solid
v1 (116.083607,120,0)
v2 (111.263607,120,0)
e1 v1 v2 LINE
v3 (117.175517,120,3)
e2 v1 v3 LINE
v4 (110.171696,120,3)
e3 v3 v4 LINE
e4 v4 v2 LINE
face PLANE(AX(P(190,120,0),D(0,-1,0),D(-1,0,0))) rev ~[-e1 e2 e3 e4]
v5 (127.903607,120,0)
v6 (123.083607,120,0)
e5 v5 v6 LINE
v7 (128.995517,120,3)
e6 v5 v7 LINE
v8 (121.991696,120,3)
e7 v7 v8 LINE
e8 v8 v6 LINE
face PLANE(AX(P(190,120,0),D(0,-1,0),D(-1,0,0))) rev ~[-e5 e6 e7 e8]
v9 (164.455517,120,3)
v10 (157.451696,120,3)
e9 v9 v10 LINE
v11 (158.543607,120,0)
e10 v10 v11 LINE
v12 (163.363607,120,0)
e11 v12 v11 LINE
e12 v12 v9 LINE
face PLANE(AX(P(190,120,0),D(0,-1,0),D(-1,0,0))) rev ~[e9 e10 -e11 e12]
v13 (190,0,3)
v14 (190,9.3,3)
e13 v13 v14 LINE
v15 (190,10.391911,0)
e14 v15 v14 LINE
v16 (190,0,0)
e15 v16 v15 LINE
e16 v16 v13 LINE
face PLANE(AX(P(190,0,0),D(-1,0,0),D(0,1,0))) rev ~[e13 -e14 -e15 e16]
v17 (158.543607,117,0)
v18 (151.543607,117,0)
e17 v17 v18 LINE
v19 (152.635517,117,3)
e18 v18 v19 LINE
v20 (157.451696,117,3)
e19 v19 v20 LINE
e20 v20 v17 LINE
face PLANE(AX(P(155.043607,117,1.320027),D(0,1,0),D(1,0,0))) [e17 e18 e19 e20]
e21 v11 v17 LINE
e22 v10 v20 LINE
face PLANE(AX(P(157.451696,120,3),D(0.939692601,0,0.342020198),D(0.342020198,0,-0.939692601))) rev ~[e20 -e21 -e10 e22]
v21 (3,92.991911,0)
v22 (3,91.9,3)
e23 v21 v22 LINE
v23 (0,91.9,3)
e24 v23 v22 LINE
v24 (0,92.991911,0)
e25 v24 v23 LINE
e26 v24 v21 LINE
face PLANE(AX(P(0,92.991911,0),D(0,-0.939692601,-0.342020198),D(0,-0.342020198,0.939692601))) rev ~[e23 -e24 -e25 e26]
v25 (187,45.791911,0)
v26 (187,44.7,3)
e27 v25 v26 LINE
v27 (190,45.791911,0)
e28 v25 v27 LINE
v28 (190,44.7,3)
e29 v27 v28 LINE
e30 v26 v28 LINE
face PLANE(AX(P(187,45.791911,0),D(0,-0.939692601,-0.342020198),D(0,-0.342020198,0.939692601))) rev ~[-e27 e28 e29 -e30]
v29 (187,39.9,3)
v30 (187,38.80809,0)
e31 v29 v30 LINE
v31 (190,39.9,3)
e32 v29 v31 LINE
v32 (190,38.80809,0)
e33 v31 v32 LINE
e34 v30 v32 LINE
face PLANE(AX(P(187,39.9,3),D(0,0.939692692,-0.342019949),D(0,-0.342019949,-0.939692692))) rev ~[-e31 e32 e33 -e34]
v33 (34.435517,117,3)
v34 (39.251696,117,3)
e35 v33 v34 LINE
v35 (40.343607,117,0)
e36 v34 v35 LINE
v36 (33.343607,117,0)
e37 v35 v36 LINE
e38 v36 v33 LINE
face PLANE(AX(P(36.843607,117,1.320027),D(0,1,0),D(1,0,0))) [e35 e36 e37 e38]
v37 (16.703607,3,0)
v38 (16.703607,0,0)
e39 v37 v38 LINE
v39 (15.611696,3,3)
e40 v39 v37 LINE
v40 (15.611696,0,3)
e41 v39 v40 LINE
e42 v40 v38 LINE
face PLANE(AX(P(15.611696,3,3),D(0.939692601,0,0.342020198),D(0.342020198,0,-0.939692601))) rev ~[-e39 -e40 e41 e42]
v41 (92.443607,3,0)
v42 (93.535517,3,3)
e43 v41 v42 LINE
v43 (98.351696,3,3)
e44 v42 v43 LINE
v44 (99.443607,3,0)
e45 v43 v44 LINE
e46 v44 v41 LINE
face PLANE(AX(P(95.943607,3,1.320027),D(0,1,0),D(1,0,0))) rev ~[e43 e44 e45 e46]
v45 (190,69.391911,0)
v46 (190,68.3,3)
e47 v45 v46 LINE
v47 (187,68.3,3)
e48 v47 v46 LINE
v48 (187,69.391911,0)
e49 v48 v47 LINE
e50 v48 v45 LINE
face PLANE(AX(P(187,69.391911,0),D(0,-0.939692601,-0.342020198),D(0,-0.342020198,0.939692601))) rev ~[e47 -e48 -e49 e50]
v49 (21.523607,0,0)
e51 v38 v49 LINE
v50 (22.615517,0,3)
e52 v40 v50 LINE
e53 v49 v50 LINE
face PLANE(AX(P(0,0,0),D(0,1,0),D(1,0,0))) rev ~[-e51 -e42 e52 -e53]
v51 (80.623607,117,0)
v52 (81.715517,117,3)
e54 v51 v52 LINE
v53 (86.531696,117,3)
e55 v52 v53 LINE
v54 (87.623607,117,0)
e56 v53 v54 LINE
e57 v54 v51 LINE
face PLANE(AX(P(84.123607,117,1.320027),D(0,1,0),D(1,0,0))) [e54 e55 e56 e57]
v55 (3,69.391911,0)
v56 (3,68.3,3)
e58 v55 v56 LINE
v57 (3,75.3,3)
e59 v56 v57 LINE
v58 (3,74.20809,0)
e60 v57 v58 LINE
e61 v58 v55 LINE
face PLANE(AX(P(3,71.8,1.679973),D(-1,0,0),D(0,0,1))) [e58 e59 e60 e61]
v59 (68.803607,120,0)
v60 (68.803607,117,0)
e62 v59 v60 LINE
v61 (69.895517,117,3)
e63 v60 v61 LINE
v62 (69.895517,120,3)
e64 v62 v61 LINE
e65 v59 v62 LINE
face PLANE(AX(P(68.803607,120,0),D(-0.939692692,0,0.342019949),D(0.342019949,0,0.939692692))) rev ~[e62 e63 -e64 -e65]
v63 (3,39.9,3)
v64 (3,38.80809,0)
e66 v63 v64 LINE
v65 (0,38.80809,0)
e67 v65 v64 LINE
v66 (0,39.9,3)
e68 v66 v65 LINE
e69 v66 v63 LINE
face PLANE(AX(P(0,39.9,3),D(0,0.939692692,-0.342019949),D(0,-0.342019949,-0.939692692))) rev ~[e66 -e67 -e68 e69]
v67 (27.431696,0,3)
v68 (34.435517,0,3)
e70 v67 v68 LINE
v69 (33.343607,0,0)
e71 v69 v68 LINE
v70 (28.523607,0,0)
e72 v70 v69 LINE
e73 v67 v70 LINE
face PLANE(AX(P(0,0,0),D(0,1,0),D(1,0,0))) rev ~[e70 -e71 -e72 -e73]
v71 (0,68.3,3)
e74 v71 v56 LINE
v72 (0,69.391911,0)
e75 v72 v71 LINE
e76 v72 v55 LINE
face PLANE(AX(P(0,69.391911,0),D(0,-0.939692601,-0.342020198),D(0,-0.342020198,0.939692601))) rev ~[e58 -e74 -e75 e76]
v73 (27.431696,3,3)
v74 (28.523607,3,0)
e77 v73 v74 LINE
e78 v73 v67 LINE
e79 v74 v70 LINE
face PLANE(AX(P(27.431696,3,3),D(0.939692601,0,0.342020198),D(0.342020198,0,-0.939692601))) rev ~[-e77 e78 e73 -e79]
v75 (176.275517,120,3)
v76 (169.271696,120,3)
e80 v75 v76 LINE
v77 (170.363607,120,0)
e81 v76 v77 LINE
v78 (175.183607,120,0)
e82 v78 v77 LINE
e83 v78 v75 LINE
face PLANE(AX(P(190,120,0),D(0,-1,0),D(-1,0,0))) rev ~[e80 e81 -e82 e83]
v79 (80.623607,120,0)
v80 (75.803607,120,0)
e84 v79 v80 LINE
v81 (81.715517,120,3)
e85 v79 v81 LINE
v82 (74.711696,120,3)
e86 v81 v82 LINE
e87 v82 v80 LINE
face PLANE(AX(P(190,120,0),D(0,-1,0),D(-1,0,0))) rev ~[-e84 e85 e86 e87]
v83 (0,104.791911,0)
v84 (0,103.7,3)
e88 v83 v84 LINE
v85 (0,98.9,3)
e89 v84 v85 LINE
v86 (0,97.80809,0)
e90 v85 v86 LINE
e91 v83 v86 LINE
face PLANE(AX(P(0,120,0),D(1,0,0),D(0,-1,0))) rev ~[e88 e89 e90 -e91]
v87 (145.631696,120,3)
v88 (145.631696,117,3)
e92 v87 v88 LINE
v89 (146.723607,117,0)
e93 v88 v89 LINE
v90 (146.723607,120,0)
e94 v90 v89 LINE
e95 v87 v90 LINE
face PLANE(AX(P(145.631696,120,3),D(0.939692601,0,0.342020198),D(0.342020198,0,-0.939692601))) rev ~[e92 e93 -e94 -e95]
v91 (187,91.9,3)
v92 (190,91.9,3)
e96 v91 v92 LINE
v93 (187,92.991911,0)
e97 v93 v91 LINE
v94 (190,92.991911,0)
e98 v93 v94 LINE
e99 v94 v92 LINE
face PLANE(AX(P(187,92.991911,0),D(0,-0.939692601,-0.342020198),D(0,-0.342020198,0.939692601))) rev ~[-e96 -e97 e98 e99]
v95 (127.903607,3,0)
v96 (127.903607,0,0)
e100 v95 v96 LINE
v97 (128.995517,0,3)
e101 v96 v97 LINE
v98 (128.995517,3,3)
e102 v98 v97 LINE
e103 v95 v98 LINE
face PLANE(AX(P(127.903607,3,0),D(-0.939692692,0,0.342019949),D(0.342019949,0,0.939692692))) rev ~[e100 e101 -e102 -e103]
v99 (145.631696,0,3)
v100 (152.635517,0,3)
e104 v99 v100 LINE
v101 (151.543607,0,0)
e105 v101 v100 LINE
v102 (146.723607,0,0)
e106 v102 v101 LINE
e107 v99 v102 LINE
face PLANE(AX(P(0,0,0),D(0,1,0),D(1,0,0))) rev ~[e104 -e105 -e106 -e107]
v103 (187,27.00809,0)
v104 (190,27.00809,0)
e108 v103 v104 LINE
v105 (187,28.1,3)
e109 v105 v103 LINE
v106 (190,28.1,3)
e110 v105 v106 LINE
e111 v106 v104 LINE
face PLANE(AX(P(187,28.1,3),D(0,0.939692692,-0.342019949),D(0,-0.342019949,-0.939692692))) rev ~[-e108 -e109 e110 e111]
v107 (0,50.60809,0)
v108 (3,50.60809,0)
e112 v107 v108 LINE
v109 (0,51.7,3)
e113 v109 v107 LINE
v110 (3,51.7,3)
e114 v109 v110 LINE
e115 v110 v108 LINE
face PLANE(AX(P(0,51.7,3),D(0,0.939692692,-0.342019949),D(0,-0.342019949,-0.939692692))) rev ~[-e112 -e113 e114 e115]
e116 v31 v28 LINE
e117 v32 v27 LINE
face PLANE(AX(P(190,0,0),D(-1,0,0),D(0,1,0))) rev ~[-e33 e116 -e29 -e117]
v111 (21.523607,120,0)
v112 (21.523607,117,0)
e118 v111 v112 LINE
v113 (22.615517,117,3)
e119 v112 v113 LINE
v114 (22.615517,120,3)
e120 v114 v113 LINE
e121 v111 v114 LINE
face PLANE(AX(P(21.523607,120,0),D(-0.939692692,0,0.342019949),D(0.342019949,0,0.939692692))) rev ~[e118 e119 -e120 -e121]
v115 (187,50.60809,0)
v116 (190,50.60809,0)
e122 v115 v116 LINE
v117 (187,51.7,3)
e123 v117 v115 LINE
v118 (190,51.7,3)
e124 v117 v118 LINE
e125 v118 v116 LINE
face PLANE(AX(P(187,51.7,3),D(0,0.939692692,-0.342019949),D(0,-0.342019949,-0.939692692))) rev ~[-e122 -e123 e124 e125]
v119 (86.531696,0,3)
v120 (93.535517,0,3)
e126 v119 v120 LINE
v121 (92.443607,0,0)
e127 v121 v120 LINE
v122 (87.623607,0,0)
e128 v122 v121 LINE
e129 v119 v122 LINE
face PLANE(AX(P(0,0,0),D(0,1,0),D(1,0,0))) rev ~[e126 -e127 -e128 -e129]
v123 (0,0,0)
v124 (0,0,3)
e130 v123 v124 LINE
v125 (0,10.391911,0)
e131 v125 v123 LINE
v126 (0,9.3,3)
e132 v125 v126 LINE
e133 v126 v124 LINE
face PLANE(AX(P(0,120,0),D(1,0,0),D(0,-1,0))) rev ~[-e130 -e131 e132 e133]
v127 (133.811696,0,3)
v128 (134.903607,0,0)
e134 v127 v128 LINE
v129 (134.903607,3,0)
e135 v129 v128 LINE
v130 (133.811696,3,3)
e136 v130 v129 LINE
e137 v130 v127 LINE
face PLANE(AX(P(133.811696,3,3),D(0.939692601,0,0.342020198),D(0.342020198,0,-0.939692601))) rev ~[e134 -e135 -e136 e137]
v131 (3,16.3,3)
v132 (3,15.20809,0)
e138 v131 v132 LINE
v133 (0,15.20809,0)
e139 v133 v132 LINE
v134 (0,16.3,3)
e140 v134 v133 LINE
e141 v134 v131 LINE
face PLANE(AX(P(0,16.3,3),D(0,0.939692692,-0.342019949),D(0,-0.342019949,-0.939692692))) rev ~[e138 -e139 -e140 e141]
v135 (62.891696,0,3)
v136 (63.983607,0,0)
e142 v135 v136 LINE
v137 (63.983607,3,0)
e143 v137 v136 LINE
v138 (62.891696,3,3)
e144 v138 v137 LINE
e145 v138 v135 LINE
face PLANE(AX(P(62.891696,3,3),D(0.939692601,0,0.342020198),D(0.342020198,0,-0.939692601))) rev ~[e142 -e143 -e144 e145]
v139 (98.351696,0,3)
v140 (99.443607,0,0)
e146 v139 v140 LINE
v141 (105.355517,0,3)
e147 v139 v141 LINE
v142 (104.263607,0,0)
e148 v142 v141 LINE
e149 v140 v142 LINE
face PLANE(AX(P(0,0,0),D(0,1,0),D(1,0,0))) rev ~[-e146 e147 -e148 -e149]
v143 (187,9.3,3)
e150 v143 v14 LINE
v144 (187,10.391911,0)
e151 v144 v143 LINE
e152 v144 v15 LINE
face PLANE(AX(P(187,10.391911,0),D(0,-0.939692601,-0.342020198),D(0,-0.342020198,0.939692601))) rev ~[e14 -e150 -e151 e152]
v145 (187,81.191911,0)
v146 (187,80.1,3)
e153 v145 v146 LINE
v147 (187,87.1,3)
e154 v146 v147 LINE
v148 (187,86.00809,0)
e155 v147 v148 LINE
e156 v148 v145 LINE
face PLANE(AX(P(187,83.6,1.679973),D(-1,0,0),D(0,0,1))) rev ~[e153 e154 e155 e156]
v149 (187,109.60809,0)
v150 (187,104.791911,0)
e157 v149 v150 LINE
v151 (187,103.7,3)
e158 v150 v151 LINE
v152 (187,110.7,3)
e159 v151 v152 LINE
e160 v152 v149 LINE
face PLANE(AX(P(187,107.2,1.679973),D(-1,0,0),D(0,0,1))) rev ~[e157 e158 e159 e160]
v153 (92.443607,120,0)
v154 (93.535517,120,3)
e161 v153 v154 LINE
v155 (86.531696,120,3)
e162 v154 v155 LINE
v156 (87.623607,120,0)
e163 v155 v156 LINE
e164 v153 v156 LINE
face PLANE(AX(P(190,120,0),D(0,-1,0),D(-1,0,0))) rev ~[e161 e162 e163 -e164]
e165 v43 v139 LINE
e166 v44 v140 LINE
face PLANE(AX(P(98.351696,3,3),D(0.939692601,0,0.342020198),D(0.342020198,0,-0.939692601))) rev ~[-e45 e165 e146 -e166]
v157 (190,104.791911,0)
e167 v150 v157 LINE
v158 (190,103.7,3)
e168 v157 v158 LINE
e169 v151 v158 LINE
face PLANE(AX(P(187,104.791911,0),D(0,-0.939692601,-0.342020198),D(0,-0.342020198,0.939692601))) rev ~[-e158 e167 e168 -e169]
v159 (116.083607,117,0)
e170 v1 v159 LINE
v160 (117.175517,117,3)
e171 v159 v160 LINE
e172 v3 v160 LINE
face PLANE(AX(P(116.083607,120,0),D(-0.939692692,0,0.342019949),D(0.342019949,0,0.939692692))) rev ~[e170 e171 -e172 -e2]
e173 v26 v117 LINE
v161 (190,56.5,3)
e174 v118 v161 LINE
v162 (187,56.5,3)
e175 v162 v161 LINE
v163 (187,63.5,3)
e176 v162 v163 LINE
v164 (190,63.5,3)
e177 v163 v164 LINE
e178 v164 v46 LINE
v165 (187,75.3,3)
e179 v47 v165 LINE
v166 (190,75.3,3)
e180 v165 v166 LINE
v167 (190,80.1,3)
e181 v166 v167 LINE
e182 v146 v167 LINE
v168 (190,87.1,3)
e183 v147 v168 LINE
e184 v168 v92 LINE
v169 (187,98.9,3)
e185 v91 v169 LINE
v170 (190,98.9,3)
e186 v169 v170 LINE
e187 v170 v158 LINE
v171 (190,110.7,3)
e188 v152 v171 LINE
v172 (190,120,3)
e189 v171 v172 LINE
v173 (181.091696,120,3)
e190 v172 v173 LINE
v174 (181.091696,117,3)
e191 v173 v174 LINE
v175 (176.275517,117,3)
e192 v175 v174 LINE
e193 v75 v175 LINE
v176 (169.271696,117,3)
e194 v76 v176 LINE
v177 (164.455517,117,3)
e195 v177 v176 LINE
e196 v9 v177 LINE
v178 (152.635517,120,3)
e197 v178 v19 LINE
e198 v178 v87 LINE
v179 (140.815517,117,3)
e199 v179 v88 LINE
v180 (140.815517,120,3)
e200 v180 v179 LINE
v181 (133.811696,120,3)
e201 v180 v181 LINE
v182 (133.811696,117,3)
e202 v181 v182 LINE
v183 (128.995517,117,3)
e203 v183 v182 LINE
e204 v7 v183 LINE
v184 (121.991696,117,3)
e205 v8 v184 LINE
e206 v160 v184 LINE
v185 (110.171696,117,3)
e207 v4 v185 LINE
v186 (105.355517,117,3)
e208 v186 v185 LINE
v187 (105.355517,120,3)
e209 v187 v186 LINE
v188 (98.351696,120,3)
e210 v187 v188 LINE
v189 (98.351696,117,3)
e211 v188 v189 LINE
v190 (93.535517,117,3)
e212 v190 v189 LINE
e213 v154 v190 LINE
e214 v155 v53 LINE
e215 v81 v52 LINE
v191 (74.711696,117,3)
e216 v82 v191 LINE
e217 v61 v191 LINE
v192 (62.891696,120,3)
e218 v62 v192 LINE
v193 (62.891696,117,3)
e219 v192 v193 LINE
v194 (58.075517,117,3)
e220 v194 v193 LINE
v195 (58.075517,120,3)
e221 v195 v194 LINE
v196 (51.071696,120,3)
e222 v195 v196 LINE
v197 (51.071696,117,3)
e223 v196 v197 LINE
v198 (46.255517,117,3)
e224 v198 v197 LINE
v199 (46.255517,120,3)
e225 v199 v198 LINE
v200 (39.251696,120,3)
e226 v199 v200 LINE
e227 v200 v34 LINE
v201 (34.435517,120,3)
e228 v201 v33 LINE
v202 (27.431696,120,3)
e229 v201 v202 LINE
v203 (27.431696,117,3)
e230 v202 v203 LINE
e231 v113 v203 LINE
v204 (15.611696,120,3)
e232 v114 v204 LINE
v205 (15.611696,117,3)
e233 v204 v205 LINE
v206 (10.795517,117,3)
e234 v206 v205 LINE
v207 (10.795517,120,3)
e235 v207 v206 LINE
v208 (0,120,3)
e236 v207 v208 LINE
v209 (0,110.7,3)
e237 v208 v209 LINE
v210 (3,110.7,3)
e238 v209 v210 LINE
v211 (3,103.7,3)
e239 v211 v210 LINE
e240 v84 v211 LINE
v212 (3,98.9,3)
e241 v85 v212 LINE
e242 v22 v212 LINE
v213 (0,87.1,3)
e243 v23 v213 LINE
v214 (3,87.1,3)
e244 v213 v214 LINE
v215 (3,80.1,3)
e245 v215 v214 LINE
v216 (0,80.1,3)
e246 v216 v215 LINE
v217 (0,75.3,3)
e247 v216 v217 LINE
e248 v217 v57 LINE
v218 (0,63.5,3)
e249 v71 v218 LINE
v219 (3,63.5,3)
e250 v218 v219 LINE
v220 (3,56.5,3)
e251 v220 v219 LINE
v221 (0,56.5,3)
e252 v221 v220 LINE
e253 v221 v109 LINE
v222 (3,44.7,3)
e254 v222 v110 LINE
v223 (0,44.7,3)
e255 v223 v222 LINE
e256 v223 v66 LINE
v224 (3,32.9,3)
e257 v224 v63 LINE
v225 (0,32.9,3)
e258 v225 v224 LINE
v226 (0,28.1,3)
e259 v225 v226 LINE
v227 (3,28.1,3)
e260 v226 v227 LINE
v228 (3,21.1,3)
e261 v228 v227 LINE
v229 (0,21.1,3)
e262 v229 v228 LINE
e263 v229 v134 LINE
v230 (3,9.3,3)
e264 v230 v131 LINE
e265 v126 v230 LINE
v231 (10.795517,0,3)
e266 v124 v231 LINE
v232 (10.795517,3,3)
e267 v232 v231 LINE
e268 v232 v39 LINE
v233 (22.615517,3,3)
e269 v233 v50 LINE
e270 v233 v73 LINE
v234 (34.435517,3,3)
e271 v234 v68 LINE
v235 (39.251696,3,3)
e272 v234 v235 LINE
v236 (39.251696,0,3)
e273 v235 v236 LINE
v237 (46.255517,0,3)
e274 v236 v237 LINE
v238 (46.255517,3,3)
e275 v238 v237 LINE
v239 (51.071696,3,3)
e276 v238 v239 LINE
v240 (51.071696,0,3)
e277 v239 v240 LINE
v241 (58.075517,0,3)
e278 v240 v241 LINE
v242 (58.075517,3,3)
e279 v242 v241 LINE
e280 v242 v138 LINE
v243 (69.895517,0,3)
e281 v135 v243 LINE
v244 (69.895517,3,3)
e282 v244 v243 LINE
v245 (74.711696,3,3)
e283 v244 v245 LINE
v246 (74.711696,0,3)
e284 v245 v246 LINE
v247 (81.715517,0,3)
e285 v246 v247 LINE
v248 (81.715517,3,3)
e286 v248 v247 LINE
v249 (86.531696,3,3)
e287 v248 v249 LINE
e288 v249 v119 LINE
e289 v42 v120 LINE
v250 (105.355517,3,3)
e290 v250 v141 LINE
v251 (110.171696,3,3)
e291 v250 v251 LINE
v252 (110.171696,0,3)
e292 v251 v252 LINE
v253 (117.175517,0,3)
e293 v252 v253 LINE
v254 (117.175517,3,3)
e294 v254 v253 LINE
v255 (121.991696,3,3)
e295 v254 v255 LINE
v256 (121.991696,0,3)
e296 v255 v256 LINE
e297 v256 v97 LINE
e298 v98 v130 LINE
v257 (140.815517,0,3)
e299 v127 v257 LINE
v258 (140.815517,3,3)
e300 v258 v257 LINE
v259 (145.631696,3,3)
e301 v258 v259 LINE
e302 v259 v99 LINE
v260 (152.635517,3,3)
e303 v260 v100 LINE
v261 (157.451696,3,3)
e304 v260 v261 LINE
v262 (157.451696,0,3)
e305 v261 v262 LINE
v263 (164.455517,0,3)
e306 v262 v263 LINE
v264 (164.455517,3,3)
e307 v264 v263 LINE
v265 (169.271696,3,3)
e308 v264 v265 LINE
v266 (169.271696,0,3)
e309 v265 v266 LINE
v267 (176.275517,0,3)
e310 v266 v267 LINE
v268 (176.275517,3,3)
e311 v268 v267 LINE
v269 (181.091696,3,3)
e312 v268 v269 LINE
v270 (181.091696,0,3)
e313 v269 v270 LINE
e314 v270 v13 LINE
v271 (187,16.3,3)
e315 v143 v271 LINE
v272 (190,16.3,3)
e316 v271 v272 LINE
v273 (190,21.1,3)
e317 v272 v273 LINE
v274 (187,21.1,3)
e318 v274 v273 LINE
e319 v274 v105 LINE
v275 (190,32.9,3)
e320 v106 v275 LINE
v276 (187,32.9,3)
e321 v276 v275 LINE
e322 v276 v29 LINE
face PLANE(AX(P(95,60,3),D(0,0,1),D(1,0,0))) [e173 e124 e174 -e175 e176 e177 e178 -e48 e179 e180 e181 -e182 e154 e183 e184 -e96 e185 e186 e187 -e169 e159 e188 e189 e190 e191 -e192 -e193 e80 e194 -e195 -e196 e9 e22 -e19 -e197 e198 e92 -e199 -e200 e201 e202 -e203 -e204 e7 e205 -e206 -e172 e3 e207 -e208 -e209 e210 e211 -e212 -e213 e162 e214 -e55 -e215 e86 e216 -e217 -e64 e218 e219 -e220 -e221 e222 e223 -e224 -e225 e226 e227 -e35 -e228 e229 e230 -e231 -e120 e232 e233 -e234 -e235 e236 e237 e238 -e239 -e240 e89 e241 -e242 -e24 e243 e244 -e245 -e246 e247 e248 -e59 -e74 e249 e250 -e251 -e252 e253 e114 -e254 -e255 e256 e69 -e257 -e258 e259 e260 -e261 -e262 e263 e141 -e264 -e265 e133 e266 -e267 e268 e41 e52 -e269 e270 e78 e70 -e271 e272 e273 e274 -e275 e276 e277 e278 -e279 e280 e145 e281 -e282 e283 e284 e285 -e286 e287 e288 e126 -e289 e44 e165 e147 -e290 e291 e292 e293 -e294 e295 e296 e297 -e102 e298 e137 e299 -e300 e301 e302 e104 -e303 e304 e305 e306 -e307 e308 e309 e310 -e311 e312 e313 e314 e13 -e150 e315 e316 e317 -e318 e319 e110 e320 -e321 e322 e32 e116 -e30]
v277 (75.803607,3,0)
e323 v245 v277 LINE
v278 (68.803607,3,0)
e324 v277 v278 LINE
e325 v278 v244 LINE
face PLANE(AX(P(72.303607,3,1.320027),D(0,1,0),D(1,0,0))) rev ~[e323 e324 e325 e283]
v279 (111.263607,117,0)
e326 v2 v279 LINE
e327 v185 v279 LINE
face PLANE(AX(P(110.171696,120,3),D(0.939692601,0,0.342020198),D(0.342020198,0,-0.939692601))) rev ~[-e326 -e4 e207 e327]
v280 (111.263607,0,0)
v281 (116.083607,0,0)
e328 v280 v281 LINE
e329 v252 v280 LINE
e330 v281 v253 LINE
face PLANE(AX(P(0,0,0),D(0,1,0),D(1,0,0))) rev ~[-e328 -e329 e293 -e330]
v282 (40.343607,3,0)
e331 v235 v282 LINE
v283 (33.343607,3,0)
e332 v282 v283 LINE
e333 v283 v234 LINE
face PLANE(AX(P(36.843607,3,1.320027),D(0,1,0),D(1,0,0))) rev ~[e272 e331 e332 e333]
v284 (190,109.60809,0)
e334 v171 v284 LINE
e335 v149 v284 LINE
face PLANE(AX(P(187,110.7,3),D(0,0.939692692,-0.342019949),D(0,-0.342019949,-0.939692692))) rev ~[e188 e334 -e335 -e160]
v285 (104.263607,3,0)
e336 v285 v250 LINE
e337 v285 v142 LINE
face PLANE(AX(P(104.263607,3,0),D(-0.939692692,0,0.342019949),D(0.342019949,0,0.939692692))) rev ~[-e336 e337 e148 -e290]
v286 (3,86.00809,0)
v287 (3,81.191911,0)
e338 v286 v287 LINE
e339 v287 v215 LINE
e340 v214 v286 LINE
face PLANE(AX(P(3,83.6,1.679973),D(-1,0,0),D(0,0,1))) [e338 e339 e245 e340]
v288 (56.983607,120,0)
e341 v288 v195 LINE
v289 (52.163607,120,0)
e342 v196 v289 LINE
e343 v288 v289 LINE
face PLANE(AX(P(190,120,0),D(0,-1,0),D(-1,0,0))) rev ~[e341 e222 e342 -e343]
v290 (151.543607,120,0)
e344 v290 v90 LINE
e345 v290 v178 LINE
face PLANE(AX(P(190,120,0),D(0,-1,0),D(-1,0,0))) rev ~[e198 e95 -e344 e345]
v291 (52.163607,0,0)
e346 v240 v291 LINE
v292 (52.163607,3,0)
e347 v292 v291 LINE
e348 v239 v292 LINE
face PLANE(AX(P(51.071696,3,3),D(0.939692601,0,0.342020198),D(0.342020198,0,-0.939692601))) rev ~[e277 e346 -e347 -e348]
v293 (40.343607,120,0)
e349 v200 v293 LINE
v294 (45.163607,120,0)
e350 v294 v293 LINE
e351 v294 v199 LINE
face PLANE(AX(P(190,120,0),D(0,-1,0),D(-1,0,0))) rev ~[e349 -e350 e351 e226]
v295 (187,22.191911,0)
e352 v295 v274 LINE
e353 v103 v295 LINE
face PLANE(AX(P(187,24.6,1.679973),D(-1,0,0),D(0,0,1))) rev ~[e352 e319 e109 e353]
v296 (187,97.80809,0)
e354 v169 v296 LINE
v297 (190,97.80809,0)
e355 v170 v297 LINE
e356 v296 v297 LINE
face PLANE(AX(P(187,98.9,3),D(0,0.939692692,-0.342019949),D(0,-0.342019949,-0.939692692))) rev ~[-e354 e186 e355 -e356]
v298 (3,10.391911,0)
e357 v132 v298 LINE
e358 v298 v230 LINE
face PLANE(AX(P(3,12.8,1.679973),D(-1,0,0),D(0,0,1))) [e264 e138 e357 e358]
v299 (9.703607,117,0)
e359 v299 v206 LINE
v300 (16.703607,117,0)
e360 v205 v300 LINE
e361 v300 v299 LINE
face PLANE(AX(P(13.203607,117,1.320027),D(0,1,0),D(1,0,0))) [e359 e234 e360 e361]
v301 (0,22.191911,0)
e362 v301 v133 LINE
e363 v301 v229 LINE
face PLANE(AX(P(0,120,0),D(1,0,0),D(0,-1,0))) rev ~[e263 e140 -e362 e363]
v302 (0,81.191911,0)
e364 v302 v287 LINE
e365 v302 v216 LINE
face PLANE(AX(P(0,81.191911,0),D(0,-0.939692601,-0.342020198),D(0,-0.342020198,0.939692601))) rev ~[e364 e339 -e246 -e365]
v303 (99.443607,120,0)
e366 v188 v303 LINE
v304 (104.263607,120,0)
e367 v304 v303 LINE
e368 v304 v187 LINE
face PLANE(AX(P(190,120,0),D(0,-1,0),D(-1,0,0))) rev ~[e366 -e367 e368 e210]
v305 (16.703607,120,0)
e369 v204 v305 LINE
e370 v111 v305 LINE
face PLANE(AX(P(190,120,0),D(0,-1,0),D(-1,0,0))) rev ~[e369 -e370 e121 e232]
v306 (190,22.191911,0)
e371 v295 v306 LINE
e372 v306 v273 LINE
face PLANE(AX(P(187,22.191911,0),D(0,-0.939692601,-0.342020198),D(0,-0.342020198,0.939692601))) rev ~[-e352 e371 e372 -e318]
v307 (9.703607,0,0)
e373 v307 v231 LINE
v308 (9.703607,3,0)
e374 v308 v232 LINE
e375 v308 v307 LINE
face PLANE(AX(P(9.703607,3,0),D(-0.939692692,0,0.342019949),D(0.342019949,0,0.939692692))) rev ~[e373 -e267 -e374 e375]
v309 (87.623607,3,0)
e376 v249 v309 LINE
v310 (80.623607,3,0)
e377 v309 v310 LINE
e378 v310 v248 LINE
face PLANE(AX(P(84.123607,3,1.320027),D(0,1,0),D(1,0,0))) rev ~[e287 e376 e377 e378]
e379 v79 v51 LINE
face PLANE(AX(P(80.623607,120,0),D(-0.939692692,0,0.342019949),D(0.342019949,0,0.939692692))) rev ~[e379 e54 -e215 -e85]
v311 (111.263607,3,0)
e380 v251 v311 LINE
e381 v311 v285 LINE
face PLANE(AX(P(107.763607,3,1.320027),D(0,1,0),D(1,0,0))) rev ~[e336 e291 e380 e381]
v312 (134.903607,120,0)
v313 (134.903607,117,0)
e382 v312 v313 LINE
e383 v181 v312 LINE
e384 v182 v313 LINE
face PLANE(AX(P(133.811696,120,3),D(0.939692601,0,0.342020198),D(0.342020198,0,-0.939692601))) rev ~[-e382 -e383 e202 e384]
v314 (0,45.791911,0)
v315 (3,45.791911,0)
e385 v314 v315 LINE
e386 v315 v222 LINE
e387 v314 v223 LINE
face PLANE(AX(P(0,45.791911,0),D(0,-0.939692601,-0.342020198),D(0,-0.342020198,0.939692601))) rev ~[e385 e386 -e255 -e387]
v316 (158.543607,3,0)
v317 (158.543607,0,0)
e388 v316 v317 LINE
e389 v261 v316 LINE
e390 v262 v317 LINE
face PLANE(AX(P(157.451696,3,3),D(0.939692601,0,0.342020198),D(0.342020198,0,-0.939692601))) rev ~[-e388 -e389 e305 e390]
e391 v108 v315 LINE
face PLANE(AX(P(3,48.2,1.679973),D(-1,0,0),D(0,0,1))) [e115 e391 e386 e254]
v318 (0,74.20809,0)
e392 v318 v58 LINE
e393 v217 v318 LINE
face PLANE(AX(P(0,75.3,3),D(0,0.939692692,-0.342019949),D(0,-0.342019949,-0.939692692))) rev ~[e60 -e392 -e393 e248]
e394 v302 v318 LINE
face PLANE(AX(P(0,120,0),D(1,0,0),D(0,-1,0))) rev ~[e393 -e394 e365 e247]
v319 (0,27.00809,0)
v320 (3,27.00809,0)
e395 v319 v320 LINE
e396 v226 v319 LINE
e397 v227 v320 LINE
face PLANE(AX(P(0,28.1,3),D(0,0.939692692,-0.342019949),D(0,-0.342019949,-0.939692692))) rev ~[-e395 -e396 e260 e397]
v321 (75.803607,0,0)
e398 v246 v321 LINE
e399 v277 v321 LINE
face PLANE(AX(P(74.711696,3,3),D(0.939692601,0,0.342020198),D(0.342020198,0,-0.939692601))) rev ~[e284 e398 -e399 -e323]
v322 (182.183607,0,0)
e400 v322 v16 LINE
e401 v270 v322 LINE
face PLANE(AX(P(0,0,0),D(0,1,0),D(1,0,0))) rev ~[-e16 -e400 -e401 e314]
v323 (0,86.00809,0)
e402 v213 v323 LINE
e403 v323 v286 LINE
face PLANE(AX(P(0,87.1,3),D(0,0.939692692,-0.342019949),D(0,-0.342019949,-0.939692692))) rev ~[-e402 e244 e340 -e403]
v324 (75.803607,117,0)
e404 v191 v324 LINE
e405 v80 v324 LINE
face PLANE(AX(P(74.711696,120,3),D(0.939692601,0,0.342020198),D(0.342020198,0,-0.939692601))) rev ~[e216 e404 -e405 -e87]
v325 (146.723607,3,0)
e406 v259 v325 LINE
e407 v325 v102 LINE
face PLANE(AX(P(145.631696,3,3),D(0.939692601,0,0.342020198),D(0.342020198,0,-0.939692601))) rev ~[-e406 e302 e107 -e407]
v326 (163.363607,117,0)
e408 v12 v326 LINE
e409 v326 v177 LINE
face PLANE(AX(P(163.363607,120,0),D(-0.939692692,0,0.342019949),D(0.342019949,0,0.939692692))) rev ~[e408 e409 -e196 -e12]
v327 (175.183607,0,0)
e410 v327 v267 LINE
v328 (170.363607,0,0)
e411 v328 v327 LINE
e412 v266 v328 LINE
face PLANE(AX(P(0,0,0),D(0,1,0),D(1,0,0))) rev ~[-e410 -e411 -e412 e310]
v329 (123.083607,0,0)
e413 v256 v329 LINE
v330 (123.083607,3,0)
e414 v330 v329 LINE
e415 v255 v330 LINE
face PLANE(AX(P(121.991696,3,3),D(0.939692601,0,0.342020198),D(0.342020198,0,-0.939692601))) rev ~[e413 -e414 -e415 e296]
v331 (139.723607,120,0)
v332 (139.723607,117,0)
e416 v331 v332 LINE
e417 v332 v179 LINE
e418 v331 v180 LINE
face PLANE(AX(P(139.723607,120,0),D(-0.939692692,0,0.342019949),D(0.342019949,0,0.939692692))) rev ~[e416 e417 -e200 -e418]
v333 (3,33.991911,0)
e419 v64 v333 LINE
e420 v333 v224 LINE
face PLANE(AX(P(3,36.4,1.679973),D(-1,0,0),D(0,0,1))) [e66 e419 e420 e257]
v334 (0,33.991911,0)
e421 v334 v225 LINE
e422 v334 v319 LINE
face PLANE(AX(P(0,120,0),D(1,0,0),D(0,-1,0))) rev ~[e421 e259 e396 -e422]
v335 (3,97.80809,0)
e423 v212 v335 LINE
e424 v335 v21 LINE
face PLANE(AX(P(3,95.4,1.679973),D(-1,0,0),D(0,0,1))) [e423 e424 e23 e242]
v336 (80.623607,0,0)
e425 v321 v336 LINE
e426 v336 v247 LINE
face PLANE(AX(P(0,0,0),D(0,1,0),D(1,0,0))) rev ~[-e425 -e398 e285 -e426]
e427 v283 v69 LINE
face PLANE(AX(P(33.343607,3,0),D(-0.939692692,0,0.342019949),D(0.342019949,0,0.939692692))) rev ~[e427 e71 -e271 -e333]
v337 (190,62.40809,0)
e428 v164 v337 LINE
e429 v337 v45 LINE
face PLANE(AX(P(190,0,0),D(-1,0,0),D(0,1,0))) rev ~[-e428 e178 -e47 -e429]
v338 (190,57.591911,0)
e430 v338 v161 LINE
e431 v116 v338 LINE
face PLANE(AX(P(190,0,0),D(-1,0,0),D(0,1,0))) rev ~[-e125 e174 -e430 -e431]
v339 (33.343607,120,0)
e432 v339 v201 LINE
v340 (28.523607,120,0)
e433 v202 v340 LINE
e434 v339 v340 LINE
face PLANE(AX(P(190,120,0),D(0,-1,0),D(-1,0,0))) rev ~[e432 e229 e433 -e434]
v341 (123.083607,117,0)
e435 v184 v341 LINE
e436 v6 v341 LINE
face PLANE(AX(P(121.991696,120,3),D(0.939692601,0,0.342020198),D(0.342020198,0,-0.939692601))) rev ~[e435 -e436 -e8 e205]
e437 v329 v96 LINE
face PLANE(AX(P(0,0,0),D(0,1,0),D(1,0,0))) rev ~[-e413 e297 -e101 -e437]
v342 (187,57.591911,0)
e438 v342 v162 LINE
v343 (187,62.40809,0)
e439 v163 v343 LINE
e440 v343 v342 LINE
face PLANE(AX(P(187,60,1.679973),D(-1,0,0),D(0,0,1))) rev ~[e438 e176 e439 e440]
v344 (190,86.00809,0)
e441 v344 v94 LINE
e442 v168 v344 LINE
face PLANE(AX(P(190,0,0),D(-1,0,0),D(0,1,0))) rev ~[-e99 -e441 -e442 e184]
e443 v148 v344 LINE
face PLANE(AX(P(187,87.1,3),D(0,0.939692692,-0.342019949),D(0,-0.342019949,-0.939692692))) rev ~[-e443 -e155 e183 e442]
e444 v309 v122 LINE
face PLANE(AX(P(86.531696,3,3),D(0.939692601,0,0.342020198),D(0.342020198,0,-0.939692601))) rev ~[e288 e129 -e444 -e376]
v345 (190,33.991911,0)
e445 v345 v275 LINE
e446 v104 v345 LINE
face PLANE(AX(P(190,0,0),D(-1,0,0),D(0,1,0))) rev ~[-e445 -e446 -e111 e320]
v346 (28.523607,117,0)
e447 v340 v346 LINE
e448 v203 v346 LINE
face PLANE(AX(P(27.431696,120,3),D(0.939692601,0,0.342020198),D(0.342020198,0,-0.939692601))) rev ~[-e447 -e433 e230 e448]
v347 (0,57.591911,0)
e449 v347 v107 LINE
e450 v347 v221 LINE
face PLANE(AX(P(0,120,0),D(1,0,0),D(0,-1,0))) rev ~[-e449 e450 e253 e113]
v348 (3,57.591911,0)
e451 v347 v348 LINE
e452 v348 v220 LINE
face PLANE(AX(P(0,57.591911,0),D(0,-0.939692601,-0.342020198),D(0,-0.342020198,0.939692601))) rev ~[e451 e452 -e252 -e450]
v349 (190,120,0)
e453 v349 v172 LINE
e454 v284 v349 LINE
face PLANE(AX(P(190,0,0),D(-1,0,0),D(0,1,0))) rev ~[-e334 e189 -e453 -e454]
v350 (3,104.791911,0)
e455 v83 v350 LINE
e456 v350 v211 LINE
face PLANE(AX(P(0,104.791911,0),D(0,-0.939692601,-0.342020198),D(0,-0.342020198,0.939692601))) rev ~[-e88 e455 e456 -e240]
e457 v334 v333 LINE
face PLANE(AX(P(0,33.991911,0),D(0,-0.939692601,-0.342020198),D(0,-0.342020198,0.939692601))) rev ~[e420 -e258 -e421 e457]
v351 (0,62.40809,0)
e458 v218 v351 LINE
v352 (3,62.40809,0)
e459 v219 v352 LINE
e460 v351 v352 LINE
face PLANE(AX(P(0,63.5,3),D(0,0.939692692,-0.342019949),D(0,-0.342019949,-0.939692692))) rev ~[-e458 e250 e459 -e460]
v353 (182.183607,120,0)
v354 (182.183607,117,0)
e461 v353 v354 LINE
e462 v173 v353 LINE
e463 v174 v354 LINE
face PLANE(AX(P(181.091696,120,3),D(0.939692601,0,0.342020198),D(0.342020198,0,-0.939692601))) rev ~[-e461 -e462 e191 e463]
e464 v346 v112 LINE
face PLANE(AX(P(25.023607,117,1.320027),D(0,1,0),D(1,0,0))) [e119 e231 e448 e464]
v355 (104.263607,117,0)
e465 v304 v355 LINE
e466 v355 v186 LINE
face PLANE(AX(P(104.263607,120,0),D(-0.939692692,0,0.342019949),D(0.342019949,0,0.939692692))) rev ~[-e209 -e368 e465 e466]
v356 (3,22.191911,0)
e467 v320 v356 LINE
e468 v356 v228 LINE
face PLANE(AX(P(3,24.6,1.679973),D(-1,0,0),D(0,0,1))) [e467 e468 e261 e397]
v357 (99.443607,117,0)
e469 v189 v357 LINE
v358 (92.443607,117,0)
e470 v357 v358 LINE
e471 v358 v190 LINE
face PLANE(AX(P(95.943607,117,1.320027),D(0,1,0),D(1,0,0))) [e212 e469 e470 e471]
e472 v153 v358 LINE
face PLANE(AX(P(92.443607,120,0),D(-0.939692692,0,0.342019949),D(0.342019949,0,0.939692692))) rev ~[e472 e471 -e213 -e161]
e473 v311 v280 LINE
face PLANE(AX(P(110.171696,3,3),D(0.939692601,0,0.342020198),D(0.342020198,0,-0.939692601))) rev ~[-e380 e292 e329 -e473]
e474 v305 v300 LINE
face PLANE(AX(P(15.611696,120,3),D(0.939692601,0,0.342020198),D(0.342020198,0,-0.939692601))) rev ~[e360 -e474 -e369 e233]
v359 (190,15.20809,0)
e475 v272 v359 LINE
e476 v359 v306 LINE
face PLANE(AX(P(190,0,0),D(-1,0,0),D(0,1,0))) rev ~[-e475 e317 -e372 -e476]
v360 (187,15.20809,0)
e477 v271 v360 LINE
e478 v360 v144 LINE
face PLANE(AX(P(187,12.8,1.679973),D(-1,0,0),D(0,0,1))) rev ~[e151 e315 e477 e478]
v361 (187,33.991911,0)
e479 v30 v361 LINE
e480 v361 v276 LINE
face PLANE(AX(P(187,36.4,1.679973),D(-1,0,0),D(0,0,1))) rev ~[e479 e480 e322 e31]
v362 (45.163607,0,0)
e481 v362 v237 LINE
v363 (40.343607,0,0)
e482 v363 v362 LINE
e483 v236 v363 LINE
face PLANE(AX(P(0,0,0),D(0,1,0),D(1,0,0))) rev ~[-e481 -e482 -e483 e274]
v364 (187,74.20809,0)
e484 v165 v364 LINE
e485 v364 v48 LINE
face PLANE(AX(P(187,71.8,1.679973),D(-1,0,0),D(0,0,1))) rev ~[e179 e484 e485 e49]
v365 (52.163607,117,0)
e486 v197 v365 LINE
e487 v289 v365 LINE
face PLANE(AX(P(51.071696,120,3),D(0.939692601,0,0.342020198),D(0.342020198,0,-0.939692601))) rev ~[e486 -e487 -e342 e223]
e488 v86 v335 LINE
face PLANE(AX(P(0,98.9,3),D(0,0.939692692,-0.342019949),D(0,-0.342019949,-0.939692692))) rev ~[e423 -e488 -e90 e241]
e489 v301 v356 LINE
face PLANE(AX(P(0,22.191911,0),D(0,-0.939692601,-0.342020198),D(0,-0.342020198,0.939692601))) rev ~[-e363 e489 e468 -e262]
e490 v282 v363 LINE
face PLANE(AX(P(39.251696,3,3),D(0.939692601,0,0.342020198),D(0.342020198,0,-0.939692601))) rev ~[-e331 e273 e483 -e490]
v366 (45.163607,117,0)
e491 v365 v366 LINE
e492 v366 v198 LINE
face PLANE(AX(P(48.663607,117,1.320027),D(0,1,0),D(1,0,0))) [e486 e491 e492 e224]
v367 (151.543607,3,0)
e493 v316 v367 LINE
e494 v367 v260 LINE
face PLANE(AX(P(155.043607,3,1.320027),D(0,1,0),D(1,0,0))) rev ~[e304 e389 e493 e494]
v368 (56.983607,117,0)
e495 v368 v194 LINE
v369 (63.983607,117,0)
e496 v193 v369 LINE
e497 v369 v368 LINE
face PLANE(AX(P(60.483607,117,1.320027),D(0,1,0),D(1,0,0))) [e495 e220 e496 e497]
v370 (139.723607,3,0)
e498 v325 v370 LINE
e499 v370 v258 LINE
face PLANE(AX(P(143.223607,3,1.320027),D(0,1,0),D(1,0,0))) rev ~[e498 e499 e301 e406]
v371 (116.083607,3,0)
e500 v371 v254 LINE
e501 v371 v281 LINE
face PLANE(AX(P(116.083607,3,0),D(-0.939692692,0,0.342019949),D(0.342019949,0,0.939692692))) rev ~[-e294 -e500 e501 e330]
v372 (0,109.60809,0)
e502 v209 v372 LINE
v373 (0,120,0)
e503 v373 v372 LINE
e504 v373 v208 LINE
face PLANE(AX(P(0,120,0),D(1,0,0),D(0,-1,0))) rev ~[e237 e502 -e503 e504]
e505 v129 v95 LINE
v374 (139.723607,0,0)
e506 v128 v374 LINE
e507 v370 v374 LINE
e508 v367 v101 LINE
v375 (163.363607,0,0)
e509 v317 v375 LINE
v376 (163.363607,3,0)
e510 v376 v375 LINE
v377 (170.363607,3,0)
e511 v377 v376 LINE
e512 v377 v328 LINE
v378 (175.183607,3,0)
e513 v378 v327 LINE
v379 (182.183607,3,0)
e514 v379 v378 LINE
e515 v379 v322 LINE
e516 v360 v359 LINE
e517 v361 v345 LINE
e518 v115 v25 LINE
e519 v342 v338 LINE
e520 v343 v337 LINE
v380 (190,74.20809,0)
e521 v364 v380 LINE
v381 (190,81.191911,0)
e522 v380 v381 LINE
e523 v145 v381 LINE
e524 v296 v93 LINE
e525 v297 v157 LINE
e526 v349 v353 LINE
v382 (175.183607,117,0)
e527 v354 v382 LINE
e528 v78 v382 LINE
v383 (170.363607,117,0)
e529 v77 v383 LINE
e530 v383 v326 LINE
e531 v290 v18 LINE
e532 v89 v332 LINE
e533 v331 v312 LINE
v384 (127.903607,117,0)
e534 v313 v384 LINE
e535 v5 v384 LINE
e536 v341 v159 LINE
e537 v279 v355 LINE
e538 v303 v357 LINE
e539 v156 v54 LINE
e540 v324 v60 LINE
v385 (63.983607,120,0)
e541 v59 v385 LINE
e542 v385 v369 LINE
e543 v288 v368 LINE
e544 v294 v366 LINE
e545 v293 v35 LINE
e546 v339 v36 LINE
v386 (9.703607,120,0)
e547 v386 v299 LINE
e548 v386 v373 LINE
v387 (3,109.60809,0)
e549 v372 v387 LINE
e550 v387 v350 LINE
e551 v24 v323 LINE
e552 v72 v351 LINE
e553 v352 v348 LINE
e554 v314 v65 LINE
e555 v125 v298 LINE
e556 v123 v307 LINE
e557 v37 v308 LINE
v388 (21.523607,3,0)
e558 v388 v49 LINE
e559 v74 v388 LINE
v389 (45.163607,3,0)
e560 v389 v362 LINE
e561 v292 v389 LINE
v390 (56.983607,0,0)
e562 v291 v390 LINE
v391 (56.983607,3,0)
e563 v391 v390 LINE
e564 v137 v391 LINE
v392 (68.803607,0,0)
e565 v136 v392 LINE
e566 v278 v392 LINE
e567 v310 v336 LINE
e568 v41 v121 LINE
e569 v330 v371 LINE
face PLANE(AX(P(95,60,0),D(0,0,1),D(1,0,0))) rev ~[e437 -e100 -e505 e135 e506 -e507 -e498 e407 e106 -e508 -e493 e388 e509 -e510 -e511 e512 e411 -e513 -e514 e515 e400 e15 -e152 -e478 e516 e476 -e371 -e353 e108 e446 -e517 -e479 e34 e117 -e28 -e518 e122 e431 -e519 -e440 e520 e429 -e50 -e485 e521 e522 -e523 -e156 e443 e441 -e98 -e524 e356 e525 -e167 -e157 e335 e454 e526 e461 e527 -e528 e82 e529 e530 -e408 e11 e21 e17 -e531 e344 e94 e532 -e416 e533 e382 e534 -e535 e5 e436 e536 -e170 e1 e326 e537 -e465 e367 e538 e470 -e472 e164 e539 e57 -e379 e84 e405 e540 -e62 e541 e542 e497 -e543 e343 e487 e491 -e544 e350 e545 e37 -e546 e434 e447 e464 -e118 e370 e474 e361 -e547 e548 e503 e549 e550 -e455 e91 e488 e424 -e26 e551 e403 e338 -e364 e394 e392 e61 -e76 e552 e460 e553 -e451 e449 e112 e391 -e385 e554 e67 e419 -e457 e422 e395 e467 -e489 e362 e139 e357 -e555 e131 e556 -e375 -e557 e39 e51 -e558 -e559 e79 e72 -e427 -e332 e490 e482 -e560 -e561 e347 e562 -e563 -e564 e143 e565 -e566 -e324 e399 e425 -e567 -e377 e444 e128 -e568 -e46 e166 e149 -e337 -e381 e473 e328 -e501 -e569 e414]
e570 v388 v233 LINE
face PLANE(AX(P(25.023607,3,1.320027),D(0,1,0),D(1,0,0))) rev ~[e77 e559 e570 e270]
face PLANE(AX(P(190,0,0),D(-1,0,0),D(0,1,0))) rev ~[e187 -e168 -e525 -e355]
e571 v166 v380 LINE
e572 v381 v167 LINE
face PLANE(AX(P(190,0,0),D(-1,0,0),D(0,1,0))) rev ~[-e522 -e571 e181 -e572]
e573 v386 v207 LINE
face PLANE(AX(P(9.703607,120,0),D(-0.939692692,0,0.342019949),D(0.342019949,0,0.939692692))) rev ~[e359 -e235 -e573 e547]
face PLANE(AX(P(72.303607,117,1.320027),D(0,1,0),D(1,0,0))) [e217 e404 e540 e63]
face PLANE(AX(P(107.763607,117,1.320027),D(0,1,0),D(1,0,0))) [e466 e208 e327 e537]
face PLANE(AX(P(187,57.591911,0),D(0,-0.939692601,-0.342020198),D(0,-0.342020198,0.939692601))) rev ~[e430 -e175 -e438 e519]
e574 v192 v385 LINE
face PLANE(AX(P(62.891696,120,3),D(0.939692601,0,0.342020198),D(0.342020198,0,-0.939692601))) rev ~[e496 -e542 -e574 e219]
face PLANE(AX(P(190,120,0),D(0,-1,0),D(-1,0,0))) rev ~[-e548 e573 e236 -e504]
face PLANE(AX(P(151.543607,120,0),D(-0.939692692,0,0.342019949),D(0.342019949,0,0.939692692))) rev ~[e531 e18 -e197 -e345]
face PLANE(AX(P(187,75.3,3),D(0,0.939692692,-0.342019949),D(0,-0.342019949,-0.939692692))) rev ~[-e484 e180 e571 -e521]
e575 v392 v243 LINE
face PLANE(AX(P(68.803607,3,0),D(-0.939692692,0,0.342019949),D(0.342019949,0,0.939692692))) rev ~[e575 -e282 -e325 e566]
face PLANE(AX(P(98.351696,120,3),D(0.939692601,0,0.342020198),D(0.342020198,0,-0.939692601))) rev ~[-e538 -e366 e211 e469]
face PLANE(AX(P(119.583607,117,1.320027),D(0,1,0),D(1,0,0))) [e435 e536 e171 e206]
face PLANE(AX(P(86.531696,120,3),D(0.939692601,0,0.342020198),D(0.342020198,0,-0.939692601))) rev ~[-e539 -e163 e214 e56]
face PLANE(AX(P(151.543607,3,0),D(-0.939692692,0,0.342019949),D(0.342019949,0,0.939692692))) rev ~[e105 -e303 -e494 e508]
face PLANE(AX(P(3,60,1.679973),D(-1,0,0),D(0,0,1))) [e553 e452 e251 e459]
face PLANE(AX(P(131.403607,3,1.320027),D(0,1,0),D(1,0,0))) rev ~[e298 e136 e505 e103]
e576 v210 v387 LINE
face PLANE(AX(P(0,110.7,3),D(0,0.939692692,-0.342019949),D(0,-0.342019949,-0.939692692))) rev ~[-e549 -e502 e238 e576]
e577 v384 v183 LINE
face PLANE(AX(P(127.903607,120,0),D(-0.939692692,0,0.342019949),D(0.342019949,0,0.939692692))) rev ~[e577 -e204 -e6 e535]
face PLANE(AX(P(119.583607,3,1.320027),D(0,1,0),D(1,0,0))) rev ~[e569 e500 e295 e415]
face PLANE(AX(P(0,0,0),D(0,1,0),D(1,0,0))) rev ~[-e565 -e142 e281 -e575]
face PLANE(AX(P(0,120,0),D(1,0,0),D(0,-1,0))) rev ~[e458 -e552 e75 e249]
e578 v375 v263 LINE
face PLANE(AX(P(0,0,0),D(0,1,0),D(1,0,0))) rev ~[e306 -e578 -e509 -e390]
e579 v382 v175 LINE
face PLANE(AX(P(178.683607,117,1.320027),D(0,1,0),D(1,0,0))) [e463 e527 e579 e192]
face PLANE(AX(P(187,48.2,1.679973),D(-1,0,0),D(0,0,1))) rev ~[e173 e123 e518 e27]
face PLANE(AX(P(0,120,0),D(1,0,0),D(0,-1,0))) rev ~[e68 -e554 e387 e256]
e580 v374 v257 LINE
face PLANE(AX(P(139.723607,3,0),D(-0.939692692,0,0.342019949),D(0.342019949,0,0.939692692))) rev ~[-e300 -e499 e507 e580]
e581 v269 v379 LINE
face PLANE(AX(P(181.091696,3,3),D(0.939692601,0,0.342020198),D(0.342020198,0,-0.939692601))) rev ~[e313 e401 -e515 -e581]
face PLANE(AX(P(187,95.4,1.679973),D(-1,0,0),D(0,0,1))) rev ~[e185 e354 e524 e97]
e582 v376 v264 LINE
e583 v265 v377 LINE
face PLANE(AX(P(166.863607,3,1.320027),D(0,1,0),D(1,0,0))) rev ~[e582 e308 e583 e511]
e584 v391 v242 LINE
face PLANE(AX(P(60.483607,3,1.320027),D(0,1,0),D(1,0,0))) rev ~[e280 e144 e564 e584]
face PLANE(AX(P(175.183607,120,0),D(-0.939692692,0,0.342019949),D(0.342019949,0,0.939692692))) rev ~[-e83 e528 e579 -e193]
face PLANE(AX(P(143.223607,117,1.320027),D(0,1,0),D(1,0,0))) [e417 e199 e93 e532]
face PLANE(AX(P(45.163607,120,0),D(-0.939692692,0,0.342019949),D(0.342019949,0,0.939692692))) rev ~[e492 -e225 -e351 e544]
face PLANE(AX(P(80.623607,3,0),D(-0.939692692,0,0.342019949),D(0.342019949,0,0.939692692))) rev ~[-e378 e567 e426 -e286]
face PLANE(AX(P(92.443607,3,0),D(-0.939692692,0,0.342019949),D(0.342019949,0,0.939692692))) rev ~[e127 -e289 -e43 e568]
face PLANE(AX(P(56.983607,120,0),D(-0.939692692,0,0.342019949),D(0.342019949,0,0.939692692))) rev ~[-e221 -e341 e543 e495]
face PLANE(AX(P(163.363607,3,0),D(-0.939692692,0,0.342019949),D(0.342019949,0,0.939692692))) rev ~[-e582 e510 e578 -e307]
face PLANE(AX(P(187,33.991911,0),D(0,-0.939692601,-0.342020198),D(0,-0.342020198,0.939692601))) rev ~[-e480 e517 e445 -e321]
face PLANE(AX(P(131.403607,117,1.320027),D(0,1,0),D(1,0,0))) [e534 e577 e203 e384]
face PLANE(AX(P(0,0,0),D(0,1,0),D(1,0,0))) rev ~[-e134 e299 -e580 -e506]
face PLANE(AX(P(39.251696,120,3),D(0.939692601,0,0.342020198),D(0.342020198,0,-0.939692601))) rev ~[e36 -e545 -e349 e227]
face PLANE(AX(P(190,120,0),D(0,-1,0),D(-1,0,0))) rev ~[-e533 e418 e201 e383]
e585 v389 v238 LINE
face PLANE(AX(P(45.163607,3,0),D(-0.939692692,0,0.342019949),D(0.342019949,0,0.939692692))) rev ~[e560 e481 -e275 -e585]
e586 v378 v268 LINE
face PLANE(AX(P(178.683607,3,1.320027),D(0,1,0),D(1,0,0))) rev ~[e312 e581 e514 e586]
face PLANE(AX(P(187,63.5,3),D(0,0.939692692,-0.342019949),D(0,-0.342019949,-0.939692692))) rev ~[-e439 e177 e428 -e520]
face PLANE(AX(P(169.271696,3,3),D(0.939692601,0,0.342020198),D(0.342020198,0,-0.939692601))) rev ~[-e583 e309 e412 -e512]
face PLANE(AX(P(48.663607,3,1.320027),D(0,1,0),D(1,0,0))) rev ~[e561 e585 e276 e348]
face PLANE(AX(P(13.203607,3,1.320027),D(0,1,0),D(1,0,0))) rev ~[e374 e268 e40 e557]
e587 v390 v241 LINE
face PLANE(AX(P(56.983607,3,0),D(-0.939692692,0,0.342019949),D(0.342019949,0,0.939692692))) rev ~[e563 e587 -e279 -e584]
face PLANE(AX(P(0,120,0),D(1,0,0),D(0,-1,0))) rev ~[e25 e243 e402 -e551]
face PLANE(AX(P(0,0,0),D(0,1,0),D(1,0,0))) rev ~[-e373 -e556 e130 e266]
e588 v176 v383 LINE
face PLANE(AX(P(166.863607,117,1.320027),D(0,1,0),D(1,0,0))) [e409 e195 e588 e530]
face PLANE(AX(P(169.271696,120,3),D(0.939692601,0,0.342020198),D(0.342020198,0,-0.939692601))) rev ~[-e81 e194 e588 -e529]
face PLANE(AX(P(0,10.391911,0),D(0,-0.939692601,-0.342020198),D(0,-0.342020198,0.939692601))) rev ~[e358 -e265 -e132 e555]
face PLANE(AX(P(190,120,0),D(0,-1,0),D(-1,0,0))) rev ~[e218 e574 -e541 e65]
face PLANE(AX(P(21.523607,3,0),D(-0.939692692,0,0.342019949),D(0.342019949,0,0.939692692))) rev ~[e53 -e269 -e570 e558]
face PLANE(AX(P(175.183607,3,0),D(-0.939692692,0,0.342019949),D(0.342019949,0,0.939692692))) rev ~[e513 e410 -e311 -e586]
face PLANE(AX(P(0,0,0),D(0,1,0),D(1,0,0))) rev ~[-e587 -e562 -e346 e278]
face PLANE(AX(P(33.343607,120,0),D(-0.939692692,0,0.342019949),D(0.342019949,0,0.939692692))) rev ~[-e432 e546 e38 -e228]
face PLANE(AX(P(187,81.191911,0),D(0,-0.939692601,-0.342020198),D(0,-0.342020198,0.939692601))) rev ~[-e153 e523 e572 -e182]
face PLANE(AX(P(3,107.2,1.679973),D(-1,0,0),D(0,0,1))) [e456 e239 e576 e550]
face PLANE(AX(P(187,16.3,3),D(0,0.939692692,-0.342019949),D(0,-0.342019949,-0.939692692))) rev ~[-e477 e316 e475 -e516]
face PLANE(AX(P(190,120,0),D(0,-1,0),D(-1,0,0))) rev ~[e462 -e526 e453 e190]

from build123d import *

# Parameters (mm, degrees)
BOSS_EXTRUDE1_DEPTH = 3
CUT_EXTRUDE1_DEPTH  = 3
CUT_EXTRUDE3_START  = -117
CUT_EXTRUDE3_DEPTH  = 187
CUT_EXTRUDE5_DEPTH  = 3
CUT_EXTRUDE6_START  = -187
CUT_EXTRUDE6_DEPTH  = 3


with BuildPart() as part:
    # Sketch1 → Boss-Extrude1 (new body)
    with BuildSketch(Plane.XY):
        Polygon((10, 0), (190, 0), (190, 120), (9.862497021, 120), (0, 120), (0, 0), align=None)
    extrude(amount=BOSS_EXTRUDE1_DEPTH)

    # Sketch3 → Cut-Extrude1 (cut)
    with BuildSketch(Plane(origin=(0, 120, 0), x_dir=(1, 0, 0), z_dir=(0, 1, 0))):
        Polygon((181.0916961, -3), (182.183607, 0), (175.183607, 0), (176.275517, -3), align=None)
        Polygon((169.2716961, -3), (170.363607, 0), (163.363607, 0), (164.455517, -3), align=None)
        Polygon((157.4516961, -3), (158.543607, 0), (151.543607, 0), (152.635517, -3), align=None)
        Polygon((145.6316961, -3), (146.723607, 0), (139.723607, 0), (140.815517, -3), align=None)
        Polygon((133.8116961, -3), (134.903607, 0), (127.903607, 0), (128.995517, -3), align=None)
        Polygon((121.9916961, -3), (123.083607, 0), (116.083607, 0), (117.175517, -3), align=None)
        Polygon((110.1716961, -3), (111.263607, 0), (104.263607, 0), (105.355517, -3), align=None)
        Polygon((98.3516961, -3), (99.443607, 0), (92.443607, 0), (93.535517, -3), align=None)
        Polygon((86.5316961, -3), (87.623607, 0), (80.623607, 0), (81.715517, -3), align=None)
        Polygon((74.7116961, -3), (75.803607, 0), (68.803607, 0), (69.895517, -3), align=None)
        Polygon((62.8916961, -3), (63.983607, 0), (56.983607, 0), (58.075517, -3), align=None)
        Polygon((51.0716961, -3), (52.163607, 0), (45.163607, 0), (46.255517, -3), align=None)
        Polygon((39.2516961, -3), (40.343607, 0), (33.343607, 0), (34.435517, -3), align=None)
        Polygon((27.4316961, -3), (28.523607, 0), (21.523607, 0), (22.615517, -3), align=None)
        Polygon((15.6116961, -3), (16.703607, 0), (9.703607, 0), (10.795517, -3), align=None)
        Polygon((232.620596447, -14.855202406), (233.712507347, -11.855202406), (226.712507347, -11.855202406), (227.804417347, -14.855202406), align=None)
    extrude(amount=-CUT_EXTRUDE1_DEPTH, mode=Mode.SUBTRACT)

    # Sketch3<2> → Cut-Extrude3 (cut)
    with BuildSketch(Plane(origin=(0, 120, 0), x_dir=(1, 0, 0), z_dir=(0, 1, 0)).offset(CUT_EXTRUDE3_START)):
        Polygon((181.0916961, -3), (182.183607, 0), (175.183607, 0), (176.275517, -3), align=None)
        Polygon((169.2716961, -3), (170.363607, 0), (163.363607, 0), (164.455517, -3), align=None)
        Polygon((157.4516961, -3), (158.543607, 0), (151.543607, 0), (152.635517, -3), align=None)
        Polygon((145.6316961, -3), (146.723607, 0), (139.723607, 0), (140.815517, -3), align=None)
        Polygon((133.8116961, -3), (134.903607, 0), (127.903607, 0), (128.995517, -3), align=None)
        Polygon((121.9916961, -3), (123.083607, 0), (116.083607, 0), (117.175517, -3), align=None)
        Polygon((110.1716961, -3), (111.263607, 0), (104.263607, 0), (105.355517, -3), align=None)
        Polygon((98.3516961, -3), (99.443607, 0), (92.443607, 0), (93.535517, -3), align=None)
        Polygon((86.5316961, -3), (87.623607, 0), (80.623607, 0), (81.715517, -3), align=None)
        Polygon((74.7116961, -3), (75.803607, 0), (68.803607, 0), (69.895517, -3), align=None)
        Polygon((62.8916961, -3), (63.983607, 0), (56.983607, 0), (58.075517, -3), align=None)
        Polygon((51.0716961, -3), (52.163607, 0), (45.163607, 0), (46.255517, -3), align=None)
        Polygon((39.2516961, -3), (40.343607, 0), (33.343607, 0), (34.435517, -3), align=None)
        Polygon((27.4316961, -3), (28.523607, 0), (21.523607, 0), (22.615517, -3), align=None)
        Polygon((15.6116961, -3), (16.703607, 0), (9.703607, 0), (10.795517, -3), align=None)
        Polygon((232.620596447, -14.855202406), (233.712507347, -11.855202406), (226.712507347, -11.855202406), (227.804417347, -14.855202406), align=None)
    extrude(amount=-CUT_EXTRUDE3_DEPTH, mode=Mode.SUBTRACT)

    # Sketch6 → Cut-Extrude5 (cut)
    with BuildSketch(Plane.ZY):
        Polygon((0, 104.7919109), (3, 103.7), (3, 110.7), (0, 109.60809), align=None)
        Polygon((0, 92.9919109), (3, 91.9), (3, 98.9), (0, 97.80809), align=None)
        Polygon((0, 81.1919109), (3, 80.1), (3, 87.1), (0, 86.00809), align=None)
        Polygon((0, 69.3919109), (3, 68.3), (3, 75.3), (0, 74.20809), align=None)
        Polygon((0, 57.5919109), (3, 56.5), (3, 63.5), (0, 62.40809), align=None)
        Polygon((0, 45.7919109), (3, 44.7), (3, 51.7), (0, 50.60809), align=None)
        Polygon((0, 33.9919109), (3, 32.9), (3, 39.9), (0, 38.80809), align=None)
        Polygon((0, 22.1919109), (3, 21.1), (3, 28.1), (0, 27.00809), align=None)
        Polygon((0, 10.3919109), (3, 9.3), (3, 16.3), (0, 15.20809), align=None)
    extrude(amount=-CUT_EXTRUDE5_DEPTH, mode=Mode.SUBTRACT)

    # Sketch6<3> → Cut-Extrude6 (cut)
    with BuildSketch(Plane.ZY.offset(CUT_EXTRUDE6_START)):
        Polygon((0, 104.7919109), (3, 103.7), (3, 110.7), (0, 109.60809), align=None)
        Polygon((0, 92.9919109), (3, 91.9), (3, 98.9), (0, 97.80809), align=None)
        Polygon((0, 81.1919109), (3, 80.1), (3, 87.1), (0, 86.00809), align=None)
        Polygon((0, 69.3919109), (3, 68.3), (3, 75.3), (0, 74.20809), align=None)
        Polygon((0, 57.5919109), (3, 56.5), (3, 63.5), (0, 62.40809), align=None)
        Polygon((0, 45.7919109), (3, 44.7), (3, 51.7), (0, 50.60809), align=None)
        Polygon((0, 33.9919109), (3, 32.9), (3, 39.9), (0, 38.80809), align=None)
        Polygon((0, 22.1919109), (3, 21.1), (3, 28.1), (0, 27.00809), align=None)
        Polygon((0, 10.3919109), (3, 9.3), (3, 16.3), (0, 15.20809), align=None)
    extrude(amount=-CUT_EXTRUDE6_DEPTH, mode=Mode.SUBTRACT)


solid = part.part
